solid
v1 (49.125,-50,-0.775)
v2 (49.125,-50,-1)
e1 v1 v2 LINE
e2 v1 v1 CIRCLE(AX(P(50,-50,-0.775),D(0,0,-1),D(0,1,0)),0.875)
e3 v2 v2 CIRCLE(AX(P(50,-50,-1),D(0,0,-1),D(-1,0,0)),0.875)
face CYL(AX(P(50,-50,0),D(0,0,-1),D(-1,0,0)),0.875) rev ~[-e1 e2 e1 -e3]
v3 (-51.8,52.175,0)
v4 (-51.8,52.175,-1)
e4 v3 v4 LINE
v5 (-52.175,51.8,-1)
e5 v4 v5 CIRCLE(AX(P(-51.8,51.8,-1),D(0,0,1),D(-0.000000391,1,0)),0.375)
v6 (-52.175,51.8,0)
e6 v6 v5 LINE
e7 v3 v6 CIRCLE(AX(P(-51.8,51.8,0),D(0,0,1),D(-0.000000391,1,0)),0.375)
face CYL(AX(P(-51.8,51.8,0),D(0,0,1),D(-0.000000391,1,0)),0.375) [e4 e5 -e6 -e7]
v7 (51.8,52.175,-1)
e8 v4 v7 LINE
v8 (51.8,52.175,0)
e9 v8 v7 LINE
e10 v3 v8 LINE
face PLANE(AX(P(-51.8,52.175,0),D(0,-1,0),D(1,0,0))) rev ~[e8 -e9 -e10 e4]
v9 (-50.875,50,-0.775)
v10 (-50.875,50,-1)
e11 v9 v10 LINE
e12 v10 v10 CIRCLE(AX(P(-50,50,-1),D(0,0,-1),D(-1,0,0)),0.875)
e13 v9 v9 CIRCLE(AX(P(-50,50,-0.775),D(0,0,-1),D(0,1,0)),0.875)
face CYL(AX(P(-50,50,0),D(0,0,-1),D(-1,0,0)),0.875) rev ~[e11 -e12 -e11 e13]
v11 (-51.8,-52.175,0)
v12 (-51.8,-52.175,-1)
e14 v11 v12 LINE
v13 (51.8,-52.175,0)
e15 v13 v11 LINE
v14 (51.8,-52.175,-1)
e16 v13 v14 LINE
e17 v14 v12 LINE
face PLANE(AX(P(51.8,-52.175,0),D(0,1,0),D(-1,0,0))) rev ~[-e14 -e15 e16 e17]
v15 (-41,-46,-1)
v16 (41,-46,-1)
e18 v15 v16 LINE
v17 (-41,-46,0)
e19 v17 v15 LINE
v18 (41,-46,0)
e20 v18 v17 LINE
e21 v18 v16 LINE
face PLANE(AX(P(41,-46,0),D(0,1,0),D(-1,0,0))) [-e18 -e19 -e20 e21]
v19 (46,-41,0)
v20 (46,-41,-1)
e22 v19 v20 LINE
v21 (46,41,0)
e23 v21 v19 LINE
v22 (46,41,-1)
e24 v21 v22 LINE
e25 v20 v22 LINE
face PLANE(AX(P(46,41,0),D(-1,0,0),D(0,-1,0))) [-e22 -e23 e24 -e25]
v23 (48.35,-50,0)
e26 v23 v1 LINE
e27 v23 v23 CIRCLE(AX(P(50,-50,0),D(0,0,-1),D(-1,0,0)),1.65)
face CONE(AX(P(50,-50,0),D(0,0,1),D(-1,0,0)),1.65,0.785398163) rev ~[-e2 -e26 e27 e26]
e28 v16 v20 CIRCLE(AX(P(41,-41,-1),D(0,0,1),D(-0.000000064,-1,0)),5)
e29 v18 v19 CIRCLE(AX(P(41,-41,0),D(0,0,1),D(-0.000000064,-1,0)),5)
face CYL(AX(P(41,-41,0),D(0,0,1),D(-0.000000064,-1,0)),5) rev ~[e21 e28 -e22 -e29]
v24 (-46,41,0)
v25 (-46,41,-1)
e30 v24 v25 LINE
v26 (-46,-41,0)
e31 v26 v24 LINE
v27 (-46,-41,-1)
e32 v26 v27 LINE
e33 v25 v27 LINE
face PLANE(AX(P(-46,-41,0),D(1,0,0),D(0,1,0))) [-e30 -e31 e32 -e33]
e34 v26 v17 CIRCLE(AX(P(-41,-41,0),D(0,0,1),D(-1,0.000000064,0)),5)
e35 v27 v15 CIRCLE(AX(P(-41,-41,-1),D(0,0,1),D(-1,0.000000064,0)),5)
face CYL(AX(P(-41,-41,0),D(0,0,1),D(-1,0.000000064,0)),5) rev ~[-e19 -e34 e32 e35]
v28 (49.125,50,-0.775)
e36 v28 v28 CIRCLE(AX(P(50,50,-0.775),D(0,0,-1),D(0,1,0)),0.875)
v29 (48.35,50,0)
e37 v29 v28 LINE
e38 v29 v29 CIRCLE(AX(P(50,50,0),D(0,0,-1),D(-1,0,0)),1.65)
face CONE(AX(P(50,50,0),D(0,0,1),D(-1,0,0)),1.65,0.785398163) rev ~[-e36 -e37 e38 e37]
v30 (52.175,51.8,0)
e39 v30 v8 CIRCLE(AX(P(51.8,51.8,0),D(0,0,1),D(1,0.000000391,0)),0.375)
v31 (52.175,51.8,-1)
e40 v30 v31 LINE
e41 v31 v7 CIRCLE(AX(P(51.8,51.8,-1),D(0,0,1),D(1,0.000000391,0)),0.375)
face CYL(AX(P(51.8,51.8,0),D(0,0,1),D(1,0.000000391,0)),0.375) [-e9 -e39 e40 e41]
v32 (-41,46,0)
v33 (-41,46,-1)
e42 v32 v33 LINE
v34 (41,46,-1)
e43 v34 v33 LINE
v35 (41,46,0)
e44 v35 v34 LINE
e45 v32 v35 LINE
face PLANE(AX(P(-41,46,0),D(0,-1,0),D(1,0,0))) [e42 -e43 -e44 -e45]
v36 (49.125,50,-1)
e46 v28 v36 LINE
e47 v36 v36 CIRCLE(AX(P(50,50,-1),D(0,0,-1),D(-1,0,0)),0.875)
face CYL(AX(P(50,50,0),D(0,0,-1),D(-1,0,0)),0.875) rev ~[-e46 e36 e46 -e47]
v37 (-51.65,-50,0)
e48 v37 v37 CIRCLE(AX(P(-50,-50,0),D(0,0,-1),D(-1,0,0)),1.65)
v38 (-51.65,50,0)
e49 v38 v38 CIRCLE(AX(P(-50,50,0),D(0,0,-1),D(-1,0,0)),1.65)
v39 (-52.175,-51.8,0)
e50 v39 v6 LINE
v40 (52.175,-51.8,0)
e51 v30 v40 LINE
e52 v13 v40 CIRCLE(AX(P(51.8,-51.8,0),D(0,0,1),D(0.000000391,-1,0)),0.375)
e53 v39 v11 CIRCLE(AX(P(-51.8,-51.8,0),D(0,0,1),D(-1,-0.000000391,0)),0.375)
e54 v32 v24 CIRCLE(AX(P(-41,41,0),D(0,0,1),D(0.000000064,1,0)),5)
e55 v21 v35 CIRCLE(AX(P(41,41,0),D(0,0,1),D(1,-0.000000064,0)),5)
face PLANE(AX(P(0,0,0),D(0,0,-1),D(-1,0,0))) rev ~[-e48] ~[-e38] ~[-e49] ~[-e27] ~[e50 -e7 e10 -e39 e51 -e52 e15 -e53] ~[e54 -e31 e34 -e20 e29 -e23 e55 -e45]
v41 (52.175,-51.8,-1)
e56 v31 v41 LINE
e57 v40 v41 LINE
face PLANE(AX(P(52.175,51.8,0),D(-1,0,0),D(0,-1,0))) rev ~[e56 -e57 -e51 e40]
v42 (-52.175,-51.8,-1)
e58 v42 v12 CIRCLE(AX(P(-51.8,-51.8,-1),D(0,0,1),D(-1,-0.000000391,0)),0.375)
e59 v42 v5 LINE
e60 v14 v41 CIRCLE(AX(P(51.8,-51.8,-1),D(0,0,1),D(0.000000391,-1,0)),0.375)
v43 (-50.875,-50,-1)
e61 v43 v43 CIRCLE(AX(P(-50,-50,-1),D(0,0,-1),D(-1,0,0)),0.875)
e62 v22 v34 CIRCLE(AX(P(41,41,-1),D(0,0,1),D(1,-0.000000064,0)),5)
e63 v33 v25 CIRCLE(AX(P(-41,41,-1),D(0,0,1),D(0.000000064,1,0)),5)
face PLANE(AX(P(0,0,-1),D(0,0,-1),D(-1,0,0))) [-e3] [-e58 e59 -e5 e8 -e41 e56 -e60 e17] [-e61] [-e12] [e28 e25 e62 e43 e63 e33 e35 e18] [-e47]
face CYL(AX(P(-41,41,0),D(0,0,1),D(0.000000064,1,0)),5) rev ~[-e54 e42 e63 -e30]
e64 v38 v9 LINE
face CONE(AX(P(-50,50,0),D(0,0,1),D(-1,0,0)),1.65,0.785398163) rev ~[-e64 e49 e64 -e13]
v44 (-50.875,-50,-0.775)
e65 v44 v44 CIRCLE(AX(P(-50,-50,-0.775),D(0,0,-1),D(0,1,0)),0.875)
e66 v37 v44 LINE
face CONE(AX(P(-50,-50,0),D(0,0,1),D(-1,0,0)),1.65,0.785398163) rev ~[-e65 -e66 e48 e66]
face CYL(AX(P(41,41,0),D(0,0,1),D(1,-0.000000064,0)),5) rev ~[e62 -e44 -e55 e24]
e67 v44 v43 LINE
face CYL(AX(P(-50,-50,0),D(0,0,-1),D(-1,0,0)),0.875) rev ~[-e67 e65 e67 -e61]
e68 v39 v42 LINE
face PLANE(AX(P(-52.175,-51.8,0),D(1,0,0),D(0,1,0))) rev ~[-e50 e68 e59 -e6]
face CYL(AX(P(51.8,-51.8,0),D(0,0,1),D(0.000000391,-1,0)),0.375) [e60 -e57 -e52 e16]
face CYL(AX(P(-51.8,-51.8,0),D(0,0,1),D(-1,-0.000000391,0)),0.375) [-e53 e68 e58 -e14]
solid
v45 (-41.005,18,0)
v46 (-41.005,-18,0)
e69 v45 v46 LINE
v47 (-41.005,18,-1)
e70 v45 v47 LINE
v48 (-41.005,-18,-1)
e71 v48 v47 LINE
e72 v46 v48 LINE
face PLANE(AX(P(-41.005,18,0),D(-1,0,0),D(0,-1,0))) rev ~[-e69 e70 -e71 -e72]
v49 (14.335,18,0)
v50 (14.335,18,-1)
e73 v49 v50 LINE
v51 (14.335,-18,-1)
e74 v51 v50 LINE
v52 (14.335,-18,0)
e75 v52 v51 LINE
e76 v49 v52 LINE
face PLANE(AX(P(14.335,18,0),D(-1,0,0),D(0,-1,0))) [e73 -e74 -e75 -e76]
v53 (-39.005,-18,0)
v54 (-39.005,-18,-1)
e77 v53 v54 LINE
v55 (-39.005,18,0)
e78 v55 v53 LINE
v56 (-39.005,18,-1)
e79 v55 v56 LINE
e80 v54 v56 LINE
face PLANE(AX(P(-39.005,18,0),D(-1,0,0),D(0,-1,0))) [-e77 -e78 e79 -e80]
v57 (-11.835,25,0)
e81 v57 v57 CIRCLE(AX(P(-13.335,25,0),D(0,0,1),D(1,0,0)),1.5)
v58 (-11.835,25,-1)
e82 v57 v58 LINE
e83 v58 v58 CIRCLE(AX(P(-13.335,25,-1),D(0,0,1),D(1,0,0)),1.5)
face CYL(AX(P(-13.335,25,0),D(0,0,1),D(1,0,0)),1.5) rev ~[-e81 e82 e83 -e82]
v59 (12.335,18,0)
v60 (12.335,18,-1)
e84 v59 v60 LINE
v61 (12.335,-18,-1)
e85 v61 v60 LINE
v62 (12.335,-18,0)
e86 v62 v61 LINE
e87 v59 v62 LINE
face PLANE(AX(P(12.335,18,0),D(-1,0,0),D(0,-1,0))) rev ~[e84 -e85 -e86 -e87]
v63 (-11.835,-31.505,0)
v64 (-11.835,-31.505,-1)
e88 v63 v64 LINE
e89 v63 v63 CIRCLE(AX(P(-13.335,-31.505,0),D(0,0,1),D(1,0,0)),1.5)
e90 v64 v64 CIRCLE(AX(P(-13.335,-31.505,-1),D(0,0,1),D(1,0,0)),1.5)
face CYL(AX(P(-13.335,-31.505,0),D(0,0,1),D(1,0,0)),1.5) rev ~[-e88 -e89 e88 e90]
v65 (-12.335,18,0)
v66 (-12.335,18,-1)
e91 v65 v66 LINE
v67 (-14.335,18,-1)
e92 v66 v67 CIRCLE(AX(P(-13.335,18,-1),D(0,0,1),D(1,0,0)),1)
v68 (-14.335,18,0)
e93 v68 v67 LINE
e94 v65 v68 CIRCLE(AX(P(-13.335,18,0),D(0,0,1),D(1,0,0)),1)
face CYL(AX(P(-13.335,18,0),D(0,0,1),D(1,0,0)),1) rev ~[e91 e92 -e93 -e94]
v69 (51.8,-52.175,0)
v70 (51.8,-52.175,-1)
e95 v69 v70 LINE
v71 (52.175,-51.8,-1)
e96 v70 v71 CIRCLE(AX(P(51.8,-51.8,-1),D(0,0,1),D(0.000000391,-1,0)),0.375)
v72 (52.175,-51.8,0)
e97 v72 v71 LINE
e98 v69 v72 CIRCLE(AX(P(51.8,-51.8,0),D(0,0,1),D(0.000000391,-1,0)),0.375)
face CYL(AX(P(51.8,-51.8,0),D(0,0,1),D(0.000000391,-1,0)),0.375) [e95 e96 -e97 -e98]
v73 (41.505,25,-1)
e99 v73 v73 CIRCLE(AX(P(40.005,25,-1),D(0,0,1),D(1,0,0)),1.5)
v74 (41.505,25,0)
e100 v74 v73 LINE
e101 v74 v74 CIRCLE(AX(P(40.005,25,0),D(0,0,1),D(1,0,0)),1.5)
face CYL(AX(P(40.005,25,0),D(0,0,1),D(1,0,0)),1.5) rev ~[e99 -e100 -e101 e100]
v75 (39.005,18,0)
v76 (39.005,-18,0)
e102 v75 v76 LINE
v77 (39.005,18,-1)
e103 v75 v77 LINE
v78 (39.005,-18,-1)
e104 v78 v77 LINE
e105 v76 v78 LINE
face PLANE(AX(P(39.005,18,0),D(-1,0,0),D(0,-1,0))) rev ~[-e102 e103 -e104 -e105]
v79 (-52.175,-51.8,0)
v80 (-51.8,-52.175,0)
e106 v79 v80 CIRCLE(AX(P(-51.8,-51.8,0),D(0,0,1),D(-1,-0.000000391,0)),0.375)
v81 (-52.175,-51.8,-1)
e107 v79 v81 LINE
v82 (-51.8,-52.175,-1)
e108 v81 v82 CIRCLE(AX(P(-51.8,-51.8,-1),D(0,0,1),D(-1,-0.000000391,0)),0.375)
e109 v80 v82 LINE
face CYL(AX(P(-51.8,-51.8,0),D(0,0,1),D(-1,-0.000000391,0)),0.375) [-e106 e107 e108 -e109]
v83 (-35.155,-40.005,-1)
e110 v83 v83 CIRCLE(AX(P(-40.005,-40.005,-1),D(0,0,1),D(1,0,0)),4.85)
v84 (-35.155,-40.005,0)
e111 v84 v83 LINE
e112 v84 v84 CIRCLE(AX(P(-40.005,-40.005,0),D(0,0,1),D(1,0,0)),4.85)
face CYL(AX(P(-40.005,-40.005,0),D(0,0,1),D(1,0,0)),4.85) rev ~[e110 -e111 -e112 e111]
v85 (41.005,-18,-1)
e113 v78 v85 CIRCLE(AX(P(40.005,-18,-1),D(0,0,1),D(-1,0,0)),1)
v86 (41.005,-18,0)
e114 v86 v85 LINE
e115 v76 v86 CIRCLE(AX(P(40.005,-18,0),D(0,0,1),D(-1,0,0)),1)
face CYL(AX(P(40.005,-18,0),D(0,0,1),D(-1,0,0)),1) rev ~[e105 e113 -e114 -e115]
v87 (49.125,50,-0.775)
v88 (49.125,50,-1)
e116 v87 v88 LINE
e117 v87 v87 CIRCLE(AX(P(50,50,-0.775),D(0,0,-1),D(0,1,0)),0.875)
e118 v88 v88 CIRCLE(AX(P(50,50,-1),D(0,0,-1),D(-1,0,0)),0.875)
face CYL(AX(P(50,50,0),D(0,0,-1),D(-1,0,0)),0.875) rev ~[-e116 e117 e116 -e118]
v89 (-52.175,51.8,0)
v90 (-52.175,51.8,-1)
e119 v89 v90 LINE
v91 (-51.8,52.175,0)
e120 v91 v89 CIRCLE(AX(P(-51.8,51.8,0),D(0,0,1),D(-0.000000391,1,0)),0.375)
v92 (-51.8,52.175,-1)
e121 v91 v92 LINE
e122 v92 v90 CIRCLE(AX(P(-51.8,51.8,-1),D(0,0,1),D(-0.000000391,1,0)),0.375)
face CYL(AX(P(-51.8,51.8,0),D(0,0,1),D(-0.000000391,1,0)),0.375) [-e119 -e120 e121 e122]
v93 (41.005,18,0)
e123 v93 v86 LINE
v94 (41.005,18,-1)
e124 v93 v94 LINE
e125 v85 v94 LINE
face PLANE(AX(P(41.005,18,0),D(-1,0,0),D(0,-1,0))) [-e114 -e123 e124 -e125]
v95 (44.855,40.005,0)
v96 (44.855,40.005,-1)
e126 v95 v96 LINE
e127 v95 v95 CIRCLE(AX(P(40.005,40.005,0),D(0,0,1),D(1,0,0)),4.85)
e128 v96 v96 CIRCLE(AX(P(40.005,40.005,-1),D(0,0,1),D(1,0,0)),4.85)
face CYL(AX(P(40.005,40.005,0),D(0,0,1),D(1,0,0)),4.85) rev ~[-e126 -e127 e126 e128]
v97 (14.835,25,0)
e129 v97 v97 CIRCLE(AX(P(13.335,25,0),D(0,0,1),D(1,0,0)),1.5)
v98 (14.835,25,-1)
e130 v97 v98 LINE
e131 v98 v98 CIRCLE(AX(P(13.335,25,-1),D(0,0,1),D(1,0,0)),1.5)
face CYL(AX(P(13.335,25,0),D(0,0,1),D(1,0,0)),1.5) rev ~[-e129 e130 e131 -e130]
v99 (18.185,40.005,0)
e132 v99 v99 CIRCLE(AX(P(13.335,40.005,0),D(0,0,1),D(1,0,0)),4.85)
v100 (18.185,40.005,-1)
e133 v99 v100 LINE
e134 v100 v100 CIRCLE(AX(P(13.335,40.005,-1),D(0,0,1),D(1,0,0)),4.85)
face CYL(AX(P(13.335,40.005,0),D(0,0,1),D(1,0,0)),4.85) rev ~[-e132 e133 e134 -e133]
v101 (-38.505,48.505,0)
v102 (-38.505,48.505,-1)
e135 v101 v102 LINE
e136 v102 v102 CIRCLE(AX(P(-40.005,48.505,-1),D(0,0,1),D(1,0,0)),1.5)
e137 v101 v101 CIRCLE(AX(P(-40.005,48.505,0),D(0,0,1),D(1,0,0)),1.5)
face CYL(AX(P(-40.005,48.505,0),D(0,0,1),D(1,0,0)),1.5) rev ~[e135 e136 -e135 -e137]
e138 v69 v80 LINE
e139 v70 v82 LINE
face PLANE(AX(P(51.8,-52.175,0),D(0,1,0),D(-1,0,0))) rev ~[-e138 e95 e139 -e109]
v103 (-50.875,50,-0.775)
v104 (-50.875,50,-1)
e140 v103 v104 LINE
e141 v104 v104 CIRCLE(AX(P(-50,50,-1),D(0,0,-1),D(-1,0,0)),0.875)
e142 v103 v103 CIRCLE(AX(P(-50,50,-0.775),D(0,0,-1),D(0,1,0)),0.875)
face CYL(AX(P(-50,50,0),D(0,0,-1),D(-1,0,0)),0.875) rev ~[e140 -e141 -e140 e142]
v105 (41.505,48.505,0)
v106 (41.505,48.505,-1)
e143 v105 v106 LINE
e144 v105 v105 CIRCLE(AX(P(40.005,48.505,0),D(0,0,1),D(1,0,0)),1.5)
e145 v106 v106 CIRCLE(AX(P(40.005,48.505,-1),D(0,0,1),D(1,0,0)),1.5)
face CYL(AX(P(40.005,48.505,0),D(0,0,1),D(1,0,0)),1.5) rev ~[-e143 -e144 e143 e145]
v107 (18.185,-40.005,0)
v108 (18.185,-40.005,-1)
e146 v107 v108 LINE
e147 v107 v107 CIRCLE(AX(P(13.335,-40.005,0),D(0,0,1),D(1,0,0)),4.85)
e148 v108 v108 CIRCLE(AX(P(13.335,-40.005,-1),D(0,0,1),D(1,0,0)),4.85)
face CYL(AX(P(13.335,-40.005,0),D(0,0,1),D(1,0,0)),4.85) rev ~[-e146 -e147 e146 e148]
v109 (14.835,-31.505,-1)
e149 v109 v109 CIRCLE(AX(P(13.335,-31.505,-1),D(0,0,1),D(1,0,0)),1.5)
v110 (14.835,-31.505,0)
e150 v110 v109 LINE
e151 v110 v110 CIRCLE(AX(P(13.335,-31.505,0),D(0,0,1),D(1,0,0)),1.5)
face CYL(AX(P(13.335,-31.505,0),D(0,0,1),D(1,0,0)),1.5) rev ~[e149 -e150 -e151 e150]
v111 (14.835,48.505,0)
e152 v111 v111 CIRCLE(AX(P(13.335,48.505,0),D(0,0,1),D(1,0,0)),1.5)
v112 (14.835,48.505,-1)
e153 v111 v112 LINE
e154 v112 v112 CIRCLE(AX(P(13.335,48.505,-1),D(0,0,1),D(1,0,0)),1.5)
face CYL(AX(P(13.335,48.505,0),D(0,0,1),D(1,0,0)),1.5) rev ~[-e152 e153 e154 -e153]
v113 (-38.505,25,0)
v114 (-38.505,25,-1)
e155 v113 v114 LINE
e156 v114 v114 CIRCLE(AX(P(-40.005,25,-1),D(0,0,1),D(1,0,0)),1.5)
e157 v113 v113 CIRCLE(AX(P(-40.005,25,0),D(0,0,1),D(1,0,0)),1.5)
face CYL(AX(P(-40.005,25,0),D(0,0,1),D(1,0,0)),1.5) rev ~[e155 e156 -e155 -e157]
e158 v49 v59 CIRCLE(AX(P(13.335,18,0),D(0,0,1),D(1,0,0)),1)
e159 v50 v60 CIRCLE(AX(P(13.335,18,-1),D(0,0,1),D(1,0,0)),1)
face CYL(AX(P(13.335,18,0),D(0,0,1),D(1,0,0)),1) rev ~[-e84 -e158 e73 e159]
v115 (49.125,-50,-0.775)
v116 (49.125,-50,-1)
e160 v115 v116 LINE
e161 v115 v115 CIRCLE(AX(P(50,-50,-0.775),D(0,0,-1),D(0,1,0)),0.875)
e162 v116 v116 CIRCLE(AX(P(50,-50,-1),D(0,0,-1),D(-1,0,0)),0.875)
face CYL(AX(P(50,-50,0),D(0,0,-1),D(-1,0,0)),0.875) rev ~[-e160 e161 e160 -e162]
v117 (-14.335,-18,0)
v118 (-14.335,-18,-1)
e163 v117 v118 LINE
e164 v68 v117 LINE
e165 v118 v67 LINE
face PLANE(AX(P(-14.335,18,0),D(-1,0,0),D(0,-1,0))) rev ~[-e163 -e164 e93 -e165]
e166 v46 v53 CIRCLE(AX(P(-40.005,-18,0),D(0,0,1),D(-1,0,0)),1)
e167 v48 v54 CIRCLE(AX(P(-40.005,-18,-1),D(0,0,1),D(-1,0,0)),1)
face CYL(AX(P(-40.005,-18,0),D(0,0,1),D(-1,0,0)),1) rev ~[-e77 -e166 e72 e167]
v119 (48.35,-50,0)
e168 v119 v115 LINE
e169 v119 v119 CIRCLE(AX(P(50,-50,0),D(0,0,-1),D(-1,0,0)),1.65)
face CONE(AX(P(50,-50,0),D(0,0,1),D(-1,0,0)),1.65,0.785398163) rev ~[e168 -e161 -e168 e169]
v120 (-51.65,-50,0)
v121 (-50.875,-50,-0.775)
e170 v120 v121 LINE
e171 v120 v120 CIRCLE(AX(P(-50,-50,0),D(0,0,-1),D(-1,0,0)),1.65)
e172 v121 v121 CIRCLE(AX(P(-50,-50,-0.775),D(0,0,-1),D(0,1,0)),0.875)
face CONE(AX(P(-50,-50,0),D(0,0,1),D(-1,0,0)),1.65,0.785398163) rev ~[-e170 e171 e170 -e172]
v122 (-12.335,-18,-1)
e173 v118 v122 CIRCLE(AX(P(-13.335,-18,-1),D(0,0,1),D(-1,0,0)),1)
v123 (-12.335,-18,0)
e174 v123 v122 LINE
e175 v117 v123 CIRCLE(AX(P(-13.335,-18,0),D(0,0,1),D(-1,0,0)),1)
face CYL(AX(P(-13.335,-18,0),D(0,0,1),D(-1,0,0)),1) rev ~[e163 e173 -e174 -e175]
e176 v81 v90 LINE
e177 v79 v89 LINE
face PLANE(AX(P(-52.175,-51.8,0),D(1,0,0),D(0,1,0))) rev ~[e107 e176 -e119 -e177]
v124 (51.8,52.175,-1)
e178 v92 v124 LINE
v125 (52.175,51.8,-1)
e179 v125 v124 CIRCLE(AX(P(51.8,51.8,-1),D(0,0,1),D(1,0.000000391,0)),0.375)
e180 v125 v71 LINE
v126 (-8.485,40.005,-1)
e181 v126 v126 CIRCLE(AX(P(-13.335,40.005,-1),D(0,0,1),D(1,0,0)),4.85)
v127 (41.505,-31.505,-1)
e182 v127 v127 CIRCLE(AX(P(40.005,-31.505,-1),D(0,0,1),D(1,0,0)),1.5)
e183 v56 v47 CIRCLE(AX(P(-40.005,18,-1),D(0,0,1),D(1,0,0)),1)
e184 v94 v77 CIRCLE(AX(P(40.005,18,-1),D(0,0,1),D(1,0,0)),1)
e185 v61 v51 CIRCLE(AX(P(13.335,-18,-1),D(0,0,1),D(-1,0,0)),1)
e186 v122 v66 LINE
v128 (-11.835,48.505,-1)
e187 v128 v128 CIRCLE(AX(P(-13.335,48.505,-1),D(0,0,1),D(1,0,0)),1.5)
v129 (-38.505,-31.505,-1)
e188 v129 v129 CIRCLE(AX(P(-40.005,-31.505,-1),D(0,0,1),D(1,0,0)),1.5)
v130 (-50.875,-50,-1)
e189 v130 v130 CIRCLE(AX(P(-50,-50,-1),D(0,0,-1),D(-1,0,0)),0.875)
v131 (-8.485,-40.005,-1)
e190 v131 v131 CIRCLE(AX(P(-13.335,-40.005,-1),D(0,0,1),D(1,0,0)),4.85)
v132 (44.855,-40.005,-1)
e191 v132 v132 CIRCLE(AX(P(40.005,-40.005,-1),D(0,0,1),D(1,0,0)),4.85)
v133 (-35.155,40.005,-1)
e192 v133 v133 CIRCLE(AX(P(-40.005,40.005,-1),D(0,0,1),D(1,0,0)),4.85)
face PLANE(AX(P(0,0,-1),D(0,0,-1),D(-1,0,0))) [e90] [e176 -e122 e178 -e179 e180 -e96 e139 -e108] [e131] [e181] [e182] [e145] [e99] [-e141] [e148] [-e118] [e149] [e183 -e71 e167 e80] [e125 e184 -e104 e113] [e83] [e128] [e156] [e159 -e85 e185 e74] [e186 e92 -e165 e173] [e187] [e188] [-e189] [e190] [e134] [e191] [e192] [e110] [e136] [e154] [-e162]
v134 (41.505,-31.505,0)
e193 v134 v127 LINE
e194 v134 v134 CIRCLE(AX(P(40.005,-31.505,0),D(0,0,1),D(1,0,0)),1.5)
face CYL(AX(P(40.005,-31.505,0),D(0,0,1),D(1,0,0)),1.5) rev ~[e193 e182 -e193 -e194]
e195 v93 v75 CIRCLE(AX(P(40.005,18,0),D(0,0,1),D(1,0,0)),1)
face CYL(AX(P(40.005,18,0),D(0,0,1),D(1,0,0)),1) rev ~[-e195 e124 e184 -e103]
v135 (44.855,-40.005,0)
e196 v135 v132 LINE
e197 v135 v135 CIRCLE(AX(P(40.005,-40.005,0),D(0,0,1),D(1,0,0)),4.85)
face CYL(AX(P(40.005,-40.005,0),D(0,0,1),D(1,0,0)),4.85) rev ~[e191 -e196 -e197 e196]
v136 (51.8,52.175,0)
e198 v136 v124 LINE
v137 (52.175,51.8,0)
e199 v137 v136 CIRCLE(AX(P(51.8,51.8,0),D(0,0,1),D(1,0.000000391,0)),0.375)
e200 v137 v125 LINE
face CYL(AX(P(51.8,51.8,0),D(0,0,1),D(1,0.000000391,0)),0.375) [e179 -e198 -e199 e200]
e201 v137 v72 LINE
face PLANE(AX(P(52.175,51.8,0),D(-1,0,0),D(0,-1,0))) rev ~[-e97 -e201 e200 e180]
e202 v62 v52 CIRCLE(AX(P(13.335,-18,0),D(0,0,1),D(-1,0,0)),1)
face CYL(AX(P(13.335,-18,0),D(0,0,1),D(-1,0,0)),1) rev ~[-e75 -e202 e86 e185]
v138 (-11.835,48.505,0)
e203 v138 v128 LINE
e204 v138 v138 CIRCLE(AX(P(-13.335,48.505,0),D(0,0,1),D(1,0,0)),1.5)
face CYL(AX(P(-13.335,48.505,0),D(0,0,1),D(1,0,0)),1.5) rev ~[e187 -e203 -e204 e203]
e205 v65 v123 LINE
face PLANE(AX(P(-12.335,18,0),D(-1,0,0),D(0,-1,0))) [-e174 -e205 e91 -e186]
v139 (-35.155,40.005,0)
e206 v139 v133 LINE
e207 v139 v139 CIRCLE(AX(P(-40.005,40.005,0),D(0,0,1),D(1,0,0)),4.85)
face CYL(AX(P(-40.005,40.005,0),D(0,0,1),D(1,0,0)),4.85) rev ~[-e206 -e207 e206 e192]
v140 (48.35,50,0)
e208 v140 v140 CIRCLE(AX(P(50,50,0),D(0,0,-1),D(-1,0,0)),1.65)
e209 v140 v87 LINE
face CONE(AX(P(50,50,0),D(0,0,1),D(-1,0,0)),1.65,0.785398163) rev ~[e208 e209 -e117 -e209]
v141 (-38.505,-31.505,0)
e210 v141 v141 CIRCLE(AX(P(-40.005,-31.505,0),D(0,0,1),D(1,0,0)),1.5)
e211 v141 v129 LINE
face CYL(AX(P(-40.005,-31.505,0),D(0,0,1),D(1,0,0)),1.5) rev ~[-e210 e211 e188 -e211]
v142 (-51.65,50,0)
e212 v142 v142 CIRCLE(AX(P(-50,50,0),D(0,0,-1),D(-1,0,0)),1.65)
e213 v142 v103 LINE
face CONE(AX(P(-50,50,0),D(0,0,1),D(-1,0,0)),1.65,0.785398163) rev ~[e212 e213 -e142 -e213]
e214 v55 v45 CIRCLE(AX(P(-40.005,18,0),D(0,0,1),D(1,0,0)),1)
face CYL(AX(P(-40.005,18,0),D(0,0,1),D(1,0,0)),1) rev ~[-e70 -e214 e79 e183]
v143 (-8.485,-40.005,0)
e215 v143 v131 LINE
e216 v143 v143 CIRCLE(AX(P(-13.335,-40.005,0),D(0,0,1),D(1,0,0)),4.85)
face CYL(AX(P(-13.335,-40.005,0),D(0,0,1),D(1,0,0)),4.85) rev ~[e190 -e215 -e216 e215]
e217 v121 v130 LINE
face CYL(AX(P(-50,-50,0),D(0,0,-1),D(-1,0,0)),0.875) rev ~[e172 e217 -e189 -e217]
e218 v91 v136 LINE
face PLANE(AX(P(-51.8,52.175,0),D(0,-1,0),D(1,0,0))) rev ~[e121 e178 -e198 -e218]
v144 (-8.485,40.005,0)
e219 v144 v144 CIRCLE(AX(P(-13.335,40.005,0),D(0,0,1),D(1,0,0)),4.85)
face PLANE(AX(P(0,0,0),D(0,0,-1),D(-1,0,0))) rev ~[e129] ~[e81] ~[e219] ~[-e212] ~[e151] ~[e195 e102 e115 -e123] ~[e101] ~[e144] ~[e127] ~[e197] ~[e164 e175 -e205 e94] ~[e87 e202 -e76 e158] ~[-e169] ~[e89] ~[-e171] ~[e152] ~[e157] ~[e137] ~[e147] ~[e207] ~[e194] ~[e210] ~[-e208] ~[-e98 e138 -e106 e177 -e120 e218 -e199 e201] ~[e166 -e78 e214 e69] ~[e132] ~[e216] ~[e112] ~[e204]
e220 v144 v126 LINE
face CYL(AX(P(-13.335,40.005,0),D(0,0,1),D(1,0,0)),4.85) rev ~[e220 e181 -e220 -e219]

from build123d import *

# Parameters (mm, degrees)
PAD_DEPTH        = 1
POCKET_DEPTH     = 0.001
HOLE_D           = 1.75
HOLE_CSINK_D     = 3.3
HOLE_CSINK_ANGLE = 90
SKETCH007_R      = 4.85
HOLE005_DEPTH    = 1.001
SKETCH008_R      = 1.5
HOLE006_DEPTH    = 1.001
SKETCH009_R      = 4.85
HOLE007_DEPTH    = 1.001
SKETCH010_R      = 1.5
HOLE008_DEPTH    = 1.001
POCKET001_DEPTH  = 1.001
SKETCH012_R      = 1.5
HOLE009_DEPTH    = 1.001
POCKET005_DEPTH  = 1.001


with BuildPart() as base:
    # Sketch → Pad (new body)
    with BuildSketch(Plane.XY):
        with BuildLine():
            Line((-51.8, 52.175), (51.8, 52.175))
            ThreePointArc((52.175, 51.8), (52.065165, 52.065165), (51.8, 52.175))
            Line((52.175, 51.8), (52.175, -51.8))
            ThreePointArc((51.8, -52.175), (52.065165, -52.065165), (52.175, -51.8))
            Line((51.8, -52.175), (-51.8, -52.175))
            ThreePointArc((-52.175, -51.8), (-52.065165, -52.065165), (-51.8, -52.175))
            Line((-52.175, -51.8), (-52.175, 51.8))
            ThreePointArc((-51.8, 52.175), (-52.065165, 52.065165), (-52.175, 51.8))
        make_face()
    extrude(amount=-PAD_DEPTH)

    # Sketch002 → Pocket (cut, through all)
    with BuildSketch(Plane.XY.offset(-4.8)):
        with BuildLine():
            Line((-45, 50.175), (45, 50.175))
            ThreePointArc((45, 50.175), (45.353553, 50.321447), (45.5, 50.675))
            ThreePointArc((45.5, 50.675), (45.353553, 51.028553), (45, 51.175))
            Line((-45, 51.175), (45, 51.175))
            ThreePointArc((-45, 51.175), (-45.353553, 51.028553), (-45.5, 50.675))
            ThreePointArc((-45.5, 50.675), (-45.353553, 50.321447), (-45, 50.175))
        make_face()
        with BuildLine():
            Line((-45, -51.175), (45, -51.175))
            ThreePointArc((45, -51.175), (45.353553, -51.028553), (45.5, -50.675))
            ThreePointArc((45.5, -50.675), (45.353553, -50.321447), (45, -50.175))
            Line((-45, -50.175), (45, -50.175))
            ThreePointArc((-45, -50.175), (-45.353553, -50.321447), (-45.5, -50.675))
            ThreePointArc((-45.5, -50.675), (-45.353553, -51.028553), (-45, -51.175))
        make_face()
        with BuildLine():
            Line((51.175, -45), (51.175, 45))
            ThreePointArc((51.175, 45), (51.028553, 45.353553), (50.675, 45.5))
            ThreePointArc((50.675, 45.5), (50.321447, 45.353553), (50.175, 45))
            Line((50.175, -45), (50.175, 45))
            ThreePointArc((50.175, -45), (50.321447, -45.353553), (50.675, -45.5))
            ThreePointArc((50.675, -45.5), (51.028553, -45.353553), (51.175, -45))
        make_face()
        with BuildLine():
            Line((-50.175, -45), (-50.175, 45))
            ThreePointArc((-50.175, 45), (-50.321447, 45.353553), (-50.675, 45.5))
            ThreePointArc((-50.675, 45.5), (-51.028553, 45.353553), (-51.175, 45))
            Line((-51.175, -45), (-51.175, 45))
            ThreePointArc((-51.175, -45), (-51.028553, -45.353553), (-50.675, -45.5))
            ThreePointArc((-50.675, -45.5), (-50.321447, -45.353553), (-50.175, -45))
        make_face()
    extrude(amount=-POCKET_DEPTH, mode=Mode.SUBTRACT)

    # Hole (through all)
    with Locations(Plane.XY):
        with Locations((-50, 50), (50, 50), (50, -50), (-50, -50)):
            CounterSinkHole(HOLE_D / 2, HOLE_CSINK_D / 2, counter_sink_angle=HOLE_CSINK_ANGLE)


with BuildPart() as pbf4:
    # Body003 base: copy of Base
    add(base.part)

    # Sketch007 → Hole005 (cut, through all)
    with BuildSketch(Plane.XY):
        with Locations((-40.005, -40.005)):
            Circle(SKETCH007_R)
        with Locations((-13.335, -40.005)):
            Circle(SKETCH007_R)
        with Locations((13.335, -40.005)):
            Circle(SKETCH007_R)
        with Locations((40.005, -40.005)):
            Circle(SKETCH007_R)
    extrude(amount=-HOLE005_DEPTH, mode=Mode.SUBTRACT)

    # Sketch008 → Hole006 (cut, through all)
    with BuildSketch(Plane.XY):
        with Locations((-40.005, -31.505)):
            Circle(SKETCH008_R)
        with Locations((-13.335, -31.505)):
            Circle(SKETCH008_R)
        with Locations((13.335, -31.505)):
            Circle(SKETCH008_R)
        with Locations((40.005, -31.505)):
            Circle(SKETCH008_R)
    extrude(amount=-HOLE006_DEPTH, mode=Mode.SUBTRACT)

    # Sketch009 → Hole007 (cut, through all)
    with BuildSketch(Plane.XY):
        with Locations((-40.005, 40.005)):
            Circle(SKETCH009_R)
        with Locations((-13.335, 40.005)):
            Circle(SKETCH009_R)
        with Locations((13.335, 40.005)):
            Circle(SKETCH009_R)
        with Locations((40.005, 40.005)):
            Circle(SKETCH009_R)
    extrude(amount=-HOLE007_DEPTH, mode=Mode.SUBTRACT)

    # Sketch010 → Hole008 (cut, through all)
    with BuildSketch(Plane.XY):
        with Locations((-40.005, 48.505)):
            Circle(SKETCH010_R)
        with Locations((-13.335, 48.505)):
            Circle(SKETCH010_R)
        with Locations((13.335, 48.505)):
            Circle(SKETCH010_R)
        with Locations((40.005, 48.505)):
            Circle(SKETCH010_R)
    extrude(amount=-HOLE008_DEPTH, mode=Mode.SUBTRACT)

    # Sketch011 → Pocket001 (cut, through all)
    with BuildSketch(Plane.XY):
        with BuildLine():
            ThreePointArc((-39.005, 18), (-40.005, 19), (-41.005, 18))
            Line((-41.005, 18), (-41.005, -18))
            ThreePointArc((-41.005, -18), (-40.005, -19), (-39.005, -18))
            Line((-39.005, 18), (-39.005, -18))
        make_face()
        with BuildLine():
            ThreePointArc((-12.335, 18), (-13.335, 19), (-14.335, 18))
            Line((-14.335, 18), (-14.335, -18))
            ThreePointArc((-14.335, -18), (-13.335, -19), (-12.335, -18))
            Line((-12.335, 18), (-12.335, -18))
        make_face()
        with BuildLine():
            ThreePointArc((14.335, 18), (13.335, 19), (12.335, 18))
            Line((12.335, 18), (12.335, -18))
            ThreePointArc((12.335, -18), (13.335, -19), (14.335, -18))
            Line((14.335, 18), (14.335, -18))
        make_face()
        with BuildLine():
            ThreePointArc((41.005, 18), (40.005, 19), (39.005, 18))
            Line((39.005, 18), (39.005, -18))
            ThreePointArc((39.005, -18), (40.005, -19), (41.005, -18))
            Line((41.005, 18), (41.005, -18))
        make_face()
    extrude(amount=-POCKET001_DEPTH, mode=Mode.SUBTRACT)

    # Sketch012 → Hole009 (cut, through all)
    with BuildSketch(Plane.XY):
        with Locations((-40.005, 25)):
            Circle(SKETCH012_R)
        with Locations((-13.335, 25)):
            Circle(SKETCH012_R)
        with Locations((13.335, 25)):
            Circle(SKETCH012_R)
        with Locations((40.005, 25)):
            Circle(SKETCH012_R)
    extrude(amount=-HOLE009_DEPTH, mode=Mode.SUBTRACT)


with BuildPart() as xy:
    # Body009 base: copy of Base
    add(base.part)

    # Sketch019 → Pocket005 (cut, through all)
    with BuildSketch(Plane.XY):
        with BuildLine():
            Line((-41, 46), (41, 46))
            ThreePointArc((46, 41), (44.535534, 44.535534), (41, 46))
            Line((46, 41), (46, -41))
            ThreePointArc((41, -46), (44.535534, -44.535534), (46, -41))
            Line((41, -46), (-41, -46))
            ThreePointArc((-46, -41), (-44.535534, -44.535534), (-41, -46))
            Line((-46, -41), (-46, 41))
            ThreePointArc((-41, 46), (-44.535534, 44.535534), (-46, 41))
        make_face()
    extrude(amount=-POCKET005_DEPTH, mode=Mode.SUBTRACT)


solid = Compound([pbf4.part, xy.part])
